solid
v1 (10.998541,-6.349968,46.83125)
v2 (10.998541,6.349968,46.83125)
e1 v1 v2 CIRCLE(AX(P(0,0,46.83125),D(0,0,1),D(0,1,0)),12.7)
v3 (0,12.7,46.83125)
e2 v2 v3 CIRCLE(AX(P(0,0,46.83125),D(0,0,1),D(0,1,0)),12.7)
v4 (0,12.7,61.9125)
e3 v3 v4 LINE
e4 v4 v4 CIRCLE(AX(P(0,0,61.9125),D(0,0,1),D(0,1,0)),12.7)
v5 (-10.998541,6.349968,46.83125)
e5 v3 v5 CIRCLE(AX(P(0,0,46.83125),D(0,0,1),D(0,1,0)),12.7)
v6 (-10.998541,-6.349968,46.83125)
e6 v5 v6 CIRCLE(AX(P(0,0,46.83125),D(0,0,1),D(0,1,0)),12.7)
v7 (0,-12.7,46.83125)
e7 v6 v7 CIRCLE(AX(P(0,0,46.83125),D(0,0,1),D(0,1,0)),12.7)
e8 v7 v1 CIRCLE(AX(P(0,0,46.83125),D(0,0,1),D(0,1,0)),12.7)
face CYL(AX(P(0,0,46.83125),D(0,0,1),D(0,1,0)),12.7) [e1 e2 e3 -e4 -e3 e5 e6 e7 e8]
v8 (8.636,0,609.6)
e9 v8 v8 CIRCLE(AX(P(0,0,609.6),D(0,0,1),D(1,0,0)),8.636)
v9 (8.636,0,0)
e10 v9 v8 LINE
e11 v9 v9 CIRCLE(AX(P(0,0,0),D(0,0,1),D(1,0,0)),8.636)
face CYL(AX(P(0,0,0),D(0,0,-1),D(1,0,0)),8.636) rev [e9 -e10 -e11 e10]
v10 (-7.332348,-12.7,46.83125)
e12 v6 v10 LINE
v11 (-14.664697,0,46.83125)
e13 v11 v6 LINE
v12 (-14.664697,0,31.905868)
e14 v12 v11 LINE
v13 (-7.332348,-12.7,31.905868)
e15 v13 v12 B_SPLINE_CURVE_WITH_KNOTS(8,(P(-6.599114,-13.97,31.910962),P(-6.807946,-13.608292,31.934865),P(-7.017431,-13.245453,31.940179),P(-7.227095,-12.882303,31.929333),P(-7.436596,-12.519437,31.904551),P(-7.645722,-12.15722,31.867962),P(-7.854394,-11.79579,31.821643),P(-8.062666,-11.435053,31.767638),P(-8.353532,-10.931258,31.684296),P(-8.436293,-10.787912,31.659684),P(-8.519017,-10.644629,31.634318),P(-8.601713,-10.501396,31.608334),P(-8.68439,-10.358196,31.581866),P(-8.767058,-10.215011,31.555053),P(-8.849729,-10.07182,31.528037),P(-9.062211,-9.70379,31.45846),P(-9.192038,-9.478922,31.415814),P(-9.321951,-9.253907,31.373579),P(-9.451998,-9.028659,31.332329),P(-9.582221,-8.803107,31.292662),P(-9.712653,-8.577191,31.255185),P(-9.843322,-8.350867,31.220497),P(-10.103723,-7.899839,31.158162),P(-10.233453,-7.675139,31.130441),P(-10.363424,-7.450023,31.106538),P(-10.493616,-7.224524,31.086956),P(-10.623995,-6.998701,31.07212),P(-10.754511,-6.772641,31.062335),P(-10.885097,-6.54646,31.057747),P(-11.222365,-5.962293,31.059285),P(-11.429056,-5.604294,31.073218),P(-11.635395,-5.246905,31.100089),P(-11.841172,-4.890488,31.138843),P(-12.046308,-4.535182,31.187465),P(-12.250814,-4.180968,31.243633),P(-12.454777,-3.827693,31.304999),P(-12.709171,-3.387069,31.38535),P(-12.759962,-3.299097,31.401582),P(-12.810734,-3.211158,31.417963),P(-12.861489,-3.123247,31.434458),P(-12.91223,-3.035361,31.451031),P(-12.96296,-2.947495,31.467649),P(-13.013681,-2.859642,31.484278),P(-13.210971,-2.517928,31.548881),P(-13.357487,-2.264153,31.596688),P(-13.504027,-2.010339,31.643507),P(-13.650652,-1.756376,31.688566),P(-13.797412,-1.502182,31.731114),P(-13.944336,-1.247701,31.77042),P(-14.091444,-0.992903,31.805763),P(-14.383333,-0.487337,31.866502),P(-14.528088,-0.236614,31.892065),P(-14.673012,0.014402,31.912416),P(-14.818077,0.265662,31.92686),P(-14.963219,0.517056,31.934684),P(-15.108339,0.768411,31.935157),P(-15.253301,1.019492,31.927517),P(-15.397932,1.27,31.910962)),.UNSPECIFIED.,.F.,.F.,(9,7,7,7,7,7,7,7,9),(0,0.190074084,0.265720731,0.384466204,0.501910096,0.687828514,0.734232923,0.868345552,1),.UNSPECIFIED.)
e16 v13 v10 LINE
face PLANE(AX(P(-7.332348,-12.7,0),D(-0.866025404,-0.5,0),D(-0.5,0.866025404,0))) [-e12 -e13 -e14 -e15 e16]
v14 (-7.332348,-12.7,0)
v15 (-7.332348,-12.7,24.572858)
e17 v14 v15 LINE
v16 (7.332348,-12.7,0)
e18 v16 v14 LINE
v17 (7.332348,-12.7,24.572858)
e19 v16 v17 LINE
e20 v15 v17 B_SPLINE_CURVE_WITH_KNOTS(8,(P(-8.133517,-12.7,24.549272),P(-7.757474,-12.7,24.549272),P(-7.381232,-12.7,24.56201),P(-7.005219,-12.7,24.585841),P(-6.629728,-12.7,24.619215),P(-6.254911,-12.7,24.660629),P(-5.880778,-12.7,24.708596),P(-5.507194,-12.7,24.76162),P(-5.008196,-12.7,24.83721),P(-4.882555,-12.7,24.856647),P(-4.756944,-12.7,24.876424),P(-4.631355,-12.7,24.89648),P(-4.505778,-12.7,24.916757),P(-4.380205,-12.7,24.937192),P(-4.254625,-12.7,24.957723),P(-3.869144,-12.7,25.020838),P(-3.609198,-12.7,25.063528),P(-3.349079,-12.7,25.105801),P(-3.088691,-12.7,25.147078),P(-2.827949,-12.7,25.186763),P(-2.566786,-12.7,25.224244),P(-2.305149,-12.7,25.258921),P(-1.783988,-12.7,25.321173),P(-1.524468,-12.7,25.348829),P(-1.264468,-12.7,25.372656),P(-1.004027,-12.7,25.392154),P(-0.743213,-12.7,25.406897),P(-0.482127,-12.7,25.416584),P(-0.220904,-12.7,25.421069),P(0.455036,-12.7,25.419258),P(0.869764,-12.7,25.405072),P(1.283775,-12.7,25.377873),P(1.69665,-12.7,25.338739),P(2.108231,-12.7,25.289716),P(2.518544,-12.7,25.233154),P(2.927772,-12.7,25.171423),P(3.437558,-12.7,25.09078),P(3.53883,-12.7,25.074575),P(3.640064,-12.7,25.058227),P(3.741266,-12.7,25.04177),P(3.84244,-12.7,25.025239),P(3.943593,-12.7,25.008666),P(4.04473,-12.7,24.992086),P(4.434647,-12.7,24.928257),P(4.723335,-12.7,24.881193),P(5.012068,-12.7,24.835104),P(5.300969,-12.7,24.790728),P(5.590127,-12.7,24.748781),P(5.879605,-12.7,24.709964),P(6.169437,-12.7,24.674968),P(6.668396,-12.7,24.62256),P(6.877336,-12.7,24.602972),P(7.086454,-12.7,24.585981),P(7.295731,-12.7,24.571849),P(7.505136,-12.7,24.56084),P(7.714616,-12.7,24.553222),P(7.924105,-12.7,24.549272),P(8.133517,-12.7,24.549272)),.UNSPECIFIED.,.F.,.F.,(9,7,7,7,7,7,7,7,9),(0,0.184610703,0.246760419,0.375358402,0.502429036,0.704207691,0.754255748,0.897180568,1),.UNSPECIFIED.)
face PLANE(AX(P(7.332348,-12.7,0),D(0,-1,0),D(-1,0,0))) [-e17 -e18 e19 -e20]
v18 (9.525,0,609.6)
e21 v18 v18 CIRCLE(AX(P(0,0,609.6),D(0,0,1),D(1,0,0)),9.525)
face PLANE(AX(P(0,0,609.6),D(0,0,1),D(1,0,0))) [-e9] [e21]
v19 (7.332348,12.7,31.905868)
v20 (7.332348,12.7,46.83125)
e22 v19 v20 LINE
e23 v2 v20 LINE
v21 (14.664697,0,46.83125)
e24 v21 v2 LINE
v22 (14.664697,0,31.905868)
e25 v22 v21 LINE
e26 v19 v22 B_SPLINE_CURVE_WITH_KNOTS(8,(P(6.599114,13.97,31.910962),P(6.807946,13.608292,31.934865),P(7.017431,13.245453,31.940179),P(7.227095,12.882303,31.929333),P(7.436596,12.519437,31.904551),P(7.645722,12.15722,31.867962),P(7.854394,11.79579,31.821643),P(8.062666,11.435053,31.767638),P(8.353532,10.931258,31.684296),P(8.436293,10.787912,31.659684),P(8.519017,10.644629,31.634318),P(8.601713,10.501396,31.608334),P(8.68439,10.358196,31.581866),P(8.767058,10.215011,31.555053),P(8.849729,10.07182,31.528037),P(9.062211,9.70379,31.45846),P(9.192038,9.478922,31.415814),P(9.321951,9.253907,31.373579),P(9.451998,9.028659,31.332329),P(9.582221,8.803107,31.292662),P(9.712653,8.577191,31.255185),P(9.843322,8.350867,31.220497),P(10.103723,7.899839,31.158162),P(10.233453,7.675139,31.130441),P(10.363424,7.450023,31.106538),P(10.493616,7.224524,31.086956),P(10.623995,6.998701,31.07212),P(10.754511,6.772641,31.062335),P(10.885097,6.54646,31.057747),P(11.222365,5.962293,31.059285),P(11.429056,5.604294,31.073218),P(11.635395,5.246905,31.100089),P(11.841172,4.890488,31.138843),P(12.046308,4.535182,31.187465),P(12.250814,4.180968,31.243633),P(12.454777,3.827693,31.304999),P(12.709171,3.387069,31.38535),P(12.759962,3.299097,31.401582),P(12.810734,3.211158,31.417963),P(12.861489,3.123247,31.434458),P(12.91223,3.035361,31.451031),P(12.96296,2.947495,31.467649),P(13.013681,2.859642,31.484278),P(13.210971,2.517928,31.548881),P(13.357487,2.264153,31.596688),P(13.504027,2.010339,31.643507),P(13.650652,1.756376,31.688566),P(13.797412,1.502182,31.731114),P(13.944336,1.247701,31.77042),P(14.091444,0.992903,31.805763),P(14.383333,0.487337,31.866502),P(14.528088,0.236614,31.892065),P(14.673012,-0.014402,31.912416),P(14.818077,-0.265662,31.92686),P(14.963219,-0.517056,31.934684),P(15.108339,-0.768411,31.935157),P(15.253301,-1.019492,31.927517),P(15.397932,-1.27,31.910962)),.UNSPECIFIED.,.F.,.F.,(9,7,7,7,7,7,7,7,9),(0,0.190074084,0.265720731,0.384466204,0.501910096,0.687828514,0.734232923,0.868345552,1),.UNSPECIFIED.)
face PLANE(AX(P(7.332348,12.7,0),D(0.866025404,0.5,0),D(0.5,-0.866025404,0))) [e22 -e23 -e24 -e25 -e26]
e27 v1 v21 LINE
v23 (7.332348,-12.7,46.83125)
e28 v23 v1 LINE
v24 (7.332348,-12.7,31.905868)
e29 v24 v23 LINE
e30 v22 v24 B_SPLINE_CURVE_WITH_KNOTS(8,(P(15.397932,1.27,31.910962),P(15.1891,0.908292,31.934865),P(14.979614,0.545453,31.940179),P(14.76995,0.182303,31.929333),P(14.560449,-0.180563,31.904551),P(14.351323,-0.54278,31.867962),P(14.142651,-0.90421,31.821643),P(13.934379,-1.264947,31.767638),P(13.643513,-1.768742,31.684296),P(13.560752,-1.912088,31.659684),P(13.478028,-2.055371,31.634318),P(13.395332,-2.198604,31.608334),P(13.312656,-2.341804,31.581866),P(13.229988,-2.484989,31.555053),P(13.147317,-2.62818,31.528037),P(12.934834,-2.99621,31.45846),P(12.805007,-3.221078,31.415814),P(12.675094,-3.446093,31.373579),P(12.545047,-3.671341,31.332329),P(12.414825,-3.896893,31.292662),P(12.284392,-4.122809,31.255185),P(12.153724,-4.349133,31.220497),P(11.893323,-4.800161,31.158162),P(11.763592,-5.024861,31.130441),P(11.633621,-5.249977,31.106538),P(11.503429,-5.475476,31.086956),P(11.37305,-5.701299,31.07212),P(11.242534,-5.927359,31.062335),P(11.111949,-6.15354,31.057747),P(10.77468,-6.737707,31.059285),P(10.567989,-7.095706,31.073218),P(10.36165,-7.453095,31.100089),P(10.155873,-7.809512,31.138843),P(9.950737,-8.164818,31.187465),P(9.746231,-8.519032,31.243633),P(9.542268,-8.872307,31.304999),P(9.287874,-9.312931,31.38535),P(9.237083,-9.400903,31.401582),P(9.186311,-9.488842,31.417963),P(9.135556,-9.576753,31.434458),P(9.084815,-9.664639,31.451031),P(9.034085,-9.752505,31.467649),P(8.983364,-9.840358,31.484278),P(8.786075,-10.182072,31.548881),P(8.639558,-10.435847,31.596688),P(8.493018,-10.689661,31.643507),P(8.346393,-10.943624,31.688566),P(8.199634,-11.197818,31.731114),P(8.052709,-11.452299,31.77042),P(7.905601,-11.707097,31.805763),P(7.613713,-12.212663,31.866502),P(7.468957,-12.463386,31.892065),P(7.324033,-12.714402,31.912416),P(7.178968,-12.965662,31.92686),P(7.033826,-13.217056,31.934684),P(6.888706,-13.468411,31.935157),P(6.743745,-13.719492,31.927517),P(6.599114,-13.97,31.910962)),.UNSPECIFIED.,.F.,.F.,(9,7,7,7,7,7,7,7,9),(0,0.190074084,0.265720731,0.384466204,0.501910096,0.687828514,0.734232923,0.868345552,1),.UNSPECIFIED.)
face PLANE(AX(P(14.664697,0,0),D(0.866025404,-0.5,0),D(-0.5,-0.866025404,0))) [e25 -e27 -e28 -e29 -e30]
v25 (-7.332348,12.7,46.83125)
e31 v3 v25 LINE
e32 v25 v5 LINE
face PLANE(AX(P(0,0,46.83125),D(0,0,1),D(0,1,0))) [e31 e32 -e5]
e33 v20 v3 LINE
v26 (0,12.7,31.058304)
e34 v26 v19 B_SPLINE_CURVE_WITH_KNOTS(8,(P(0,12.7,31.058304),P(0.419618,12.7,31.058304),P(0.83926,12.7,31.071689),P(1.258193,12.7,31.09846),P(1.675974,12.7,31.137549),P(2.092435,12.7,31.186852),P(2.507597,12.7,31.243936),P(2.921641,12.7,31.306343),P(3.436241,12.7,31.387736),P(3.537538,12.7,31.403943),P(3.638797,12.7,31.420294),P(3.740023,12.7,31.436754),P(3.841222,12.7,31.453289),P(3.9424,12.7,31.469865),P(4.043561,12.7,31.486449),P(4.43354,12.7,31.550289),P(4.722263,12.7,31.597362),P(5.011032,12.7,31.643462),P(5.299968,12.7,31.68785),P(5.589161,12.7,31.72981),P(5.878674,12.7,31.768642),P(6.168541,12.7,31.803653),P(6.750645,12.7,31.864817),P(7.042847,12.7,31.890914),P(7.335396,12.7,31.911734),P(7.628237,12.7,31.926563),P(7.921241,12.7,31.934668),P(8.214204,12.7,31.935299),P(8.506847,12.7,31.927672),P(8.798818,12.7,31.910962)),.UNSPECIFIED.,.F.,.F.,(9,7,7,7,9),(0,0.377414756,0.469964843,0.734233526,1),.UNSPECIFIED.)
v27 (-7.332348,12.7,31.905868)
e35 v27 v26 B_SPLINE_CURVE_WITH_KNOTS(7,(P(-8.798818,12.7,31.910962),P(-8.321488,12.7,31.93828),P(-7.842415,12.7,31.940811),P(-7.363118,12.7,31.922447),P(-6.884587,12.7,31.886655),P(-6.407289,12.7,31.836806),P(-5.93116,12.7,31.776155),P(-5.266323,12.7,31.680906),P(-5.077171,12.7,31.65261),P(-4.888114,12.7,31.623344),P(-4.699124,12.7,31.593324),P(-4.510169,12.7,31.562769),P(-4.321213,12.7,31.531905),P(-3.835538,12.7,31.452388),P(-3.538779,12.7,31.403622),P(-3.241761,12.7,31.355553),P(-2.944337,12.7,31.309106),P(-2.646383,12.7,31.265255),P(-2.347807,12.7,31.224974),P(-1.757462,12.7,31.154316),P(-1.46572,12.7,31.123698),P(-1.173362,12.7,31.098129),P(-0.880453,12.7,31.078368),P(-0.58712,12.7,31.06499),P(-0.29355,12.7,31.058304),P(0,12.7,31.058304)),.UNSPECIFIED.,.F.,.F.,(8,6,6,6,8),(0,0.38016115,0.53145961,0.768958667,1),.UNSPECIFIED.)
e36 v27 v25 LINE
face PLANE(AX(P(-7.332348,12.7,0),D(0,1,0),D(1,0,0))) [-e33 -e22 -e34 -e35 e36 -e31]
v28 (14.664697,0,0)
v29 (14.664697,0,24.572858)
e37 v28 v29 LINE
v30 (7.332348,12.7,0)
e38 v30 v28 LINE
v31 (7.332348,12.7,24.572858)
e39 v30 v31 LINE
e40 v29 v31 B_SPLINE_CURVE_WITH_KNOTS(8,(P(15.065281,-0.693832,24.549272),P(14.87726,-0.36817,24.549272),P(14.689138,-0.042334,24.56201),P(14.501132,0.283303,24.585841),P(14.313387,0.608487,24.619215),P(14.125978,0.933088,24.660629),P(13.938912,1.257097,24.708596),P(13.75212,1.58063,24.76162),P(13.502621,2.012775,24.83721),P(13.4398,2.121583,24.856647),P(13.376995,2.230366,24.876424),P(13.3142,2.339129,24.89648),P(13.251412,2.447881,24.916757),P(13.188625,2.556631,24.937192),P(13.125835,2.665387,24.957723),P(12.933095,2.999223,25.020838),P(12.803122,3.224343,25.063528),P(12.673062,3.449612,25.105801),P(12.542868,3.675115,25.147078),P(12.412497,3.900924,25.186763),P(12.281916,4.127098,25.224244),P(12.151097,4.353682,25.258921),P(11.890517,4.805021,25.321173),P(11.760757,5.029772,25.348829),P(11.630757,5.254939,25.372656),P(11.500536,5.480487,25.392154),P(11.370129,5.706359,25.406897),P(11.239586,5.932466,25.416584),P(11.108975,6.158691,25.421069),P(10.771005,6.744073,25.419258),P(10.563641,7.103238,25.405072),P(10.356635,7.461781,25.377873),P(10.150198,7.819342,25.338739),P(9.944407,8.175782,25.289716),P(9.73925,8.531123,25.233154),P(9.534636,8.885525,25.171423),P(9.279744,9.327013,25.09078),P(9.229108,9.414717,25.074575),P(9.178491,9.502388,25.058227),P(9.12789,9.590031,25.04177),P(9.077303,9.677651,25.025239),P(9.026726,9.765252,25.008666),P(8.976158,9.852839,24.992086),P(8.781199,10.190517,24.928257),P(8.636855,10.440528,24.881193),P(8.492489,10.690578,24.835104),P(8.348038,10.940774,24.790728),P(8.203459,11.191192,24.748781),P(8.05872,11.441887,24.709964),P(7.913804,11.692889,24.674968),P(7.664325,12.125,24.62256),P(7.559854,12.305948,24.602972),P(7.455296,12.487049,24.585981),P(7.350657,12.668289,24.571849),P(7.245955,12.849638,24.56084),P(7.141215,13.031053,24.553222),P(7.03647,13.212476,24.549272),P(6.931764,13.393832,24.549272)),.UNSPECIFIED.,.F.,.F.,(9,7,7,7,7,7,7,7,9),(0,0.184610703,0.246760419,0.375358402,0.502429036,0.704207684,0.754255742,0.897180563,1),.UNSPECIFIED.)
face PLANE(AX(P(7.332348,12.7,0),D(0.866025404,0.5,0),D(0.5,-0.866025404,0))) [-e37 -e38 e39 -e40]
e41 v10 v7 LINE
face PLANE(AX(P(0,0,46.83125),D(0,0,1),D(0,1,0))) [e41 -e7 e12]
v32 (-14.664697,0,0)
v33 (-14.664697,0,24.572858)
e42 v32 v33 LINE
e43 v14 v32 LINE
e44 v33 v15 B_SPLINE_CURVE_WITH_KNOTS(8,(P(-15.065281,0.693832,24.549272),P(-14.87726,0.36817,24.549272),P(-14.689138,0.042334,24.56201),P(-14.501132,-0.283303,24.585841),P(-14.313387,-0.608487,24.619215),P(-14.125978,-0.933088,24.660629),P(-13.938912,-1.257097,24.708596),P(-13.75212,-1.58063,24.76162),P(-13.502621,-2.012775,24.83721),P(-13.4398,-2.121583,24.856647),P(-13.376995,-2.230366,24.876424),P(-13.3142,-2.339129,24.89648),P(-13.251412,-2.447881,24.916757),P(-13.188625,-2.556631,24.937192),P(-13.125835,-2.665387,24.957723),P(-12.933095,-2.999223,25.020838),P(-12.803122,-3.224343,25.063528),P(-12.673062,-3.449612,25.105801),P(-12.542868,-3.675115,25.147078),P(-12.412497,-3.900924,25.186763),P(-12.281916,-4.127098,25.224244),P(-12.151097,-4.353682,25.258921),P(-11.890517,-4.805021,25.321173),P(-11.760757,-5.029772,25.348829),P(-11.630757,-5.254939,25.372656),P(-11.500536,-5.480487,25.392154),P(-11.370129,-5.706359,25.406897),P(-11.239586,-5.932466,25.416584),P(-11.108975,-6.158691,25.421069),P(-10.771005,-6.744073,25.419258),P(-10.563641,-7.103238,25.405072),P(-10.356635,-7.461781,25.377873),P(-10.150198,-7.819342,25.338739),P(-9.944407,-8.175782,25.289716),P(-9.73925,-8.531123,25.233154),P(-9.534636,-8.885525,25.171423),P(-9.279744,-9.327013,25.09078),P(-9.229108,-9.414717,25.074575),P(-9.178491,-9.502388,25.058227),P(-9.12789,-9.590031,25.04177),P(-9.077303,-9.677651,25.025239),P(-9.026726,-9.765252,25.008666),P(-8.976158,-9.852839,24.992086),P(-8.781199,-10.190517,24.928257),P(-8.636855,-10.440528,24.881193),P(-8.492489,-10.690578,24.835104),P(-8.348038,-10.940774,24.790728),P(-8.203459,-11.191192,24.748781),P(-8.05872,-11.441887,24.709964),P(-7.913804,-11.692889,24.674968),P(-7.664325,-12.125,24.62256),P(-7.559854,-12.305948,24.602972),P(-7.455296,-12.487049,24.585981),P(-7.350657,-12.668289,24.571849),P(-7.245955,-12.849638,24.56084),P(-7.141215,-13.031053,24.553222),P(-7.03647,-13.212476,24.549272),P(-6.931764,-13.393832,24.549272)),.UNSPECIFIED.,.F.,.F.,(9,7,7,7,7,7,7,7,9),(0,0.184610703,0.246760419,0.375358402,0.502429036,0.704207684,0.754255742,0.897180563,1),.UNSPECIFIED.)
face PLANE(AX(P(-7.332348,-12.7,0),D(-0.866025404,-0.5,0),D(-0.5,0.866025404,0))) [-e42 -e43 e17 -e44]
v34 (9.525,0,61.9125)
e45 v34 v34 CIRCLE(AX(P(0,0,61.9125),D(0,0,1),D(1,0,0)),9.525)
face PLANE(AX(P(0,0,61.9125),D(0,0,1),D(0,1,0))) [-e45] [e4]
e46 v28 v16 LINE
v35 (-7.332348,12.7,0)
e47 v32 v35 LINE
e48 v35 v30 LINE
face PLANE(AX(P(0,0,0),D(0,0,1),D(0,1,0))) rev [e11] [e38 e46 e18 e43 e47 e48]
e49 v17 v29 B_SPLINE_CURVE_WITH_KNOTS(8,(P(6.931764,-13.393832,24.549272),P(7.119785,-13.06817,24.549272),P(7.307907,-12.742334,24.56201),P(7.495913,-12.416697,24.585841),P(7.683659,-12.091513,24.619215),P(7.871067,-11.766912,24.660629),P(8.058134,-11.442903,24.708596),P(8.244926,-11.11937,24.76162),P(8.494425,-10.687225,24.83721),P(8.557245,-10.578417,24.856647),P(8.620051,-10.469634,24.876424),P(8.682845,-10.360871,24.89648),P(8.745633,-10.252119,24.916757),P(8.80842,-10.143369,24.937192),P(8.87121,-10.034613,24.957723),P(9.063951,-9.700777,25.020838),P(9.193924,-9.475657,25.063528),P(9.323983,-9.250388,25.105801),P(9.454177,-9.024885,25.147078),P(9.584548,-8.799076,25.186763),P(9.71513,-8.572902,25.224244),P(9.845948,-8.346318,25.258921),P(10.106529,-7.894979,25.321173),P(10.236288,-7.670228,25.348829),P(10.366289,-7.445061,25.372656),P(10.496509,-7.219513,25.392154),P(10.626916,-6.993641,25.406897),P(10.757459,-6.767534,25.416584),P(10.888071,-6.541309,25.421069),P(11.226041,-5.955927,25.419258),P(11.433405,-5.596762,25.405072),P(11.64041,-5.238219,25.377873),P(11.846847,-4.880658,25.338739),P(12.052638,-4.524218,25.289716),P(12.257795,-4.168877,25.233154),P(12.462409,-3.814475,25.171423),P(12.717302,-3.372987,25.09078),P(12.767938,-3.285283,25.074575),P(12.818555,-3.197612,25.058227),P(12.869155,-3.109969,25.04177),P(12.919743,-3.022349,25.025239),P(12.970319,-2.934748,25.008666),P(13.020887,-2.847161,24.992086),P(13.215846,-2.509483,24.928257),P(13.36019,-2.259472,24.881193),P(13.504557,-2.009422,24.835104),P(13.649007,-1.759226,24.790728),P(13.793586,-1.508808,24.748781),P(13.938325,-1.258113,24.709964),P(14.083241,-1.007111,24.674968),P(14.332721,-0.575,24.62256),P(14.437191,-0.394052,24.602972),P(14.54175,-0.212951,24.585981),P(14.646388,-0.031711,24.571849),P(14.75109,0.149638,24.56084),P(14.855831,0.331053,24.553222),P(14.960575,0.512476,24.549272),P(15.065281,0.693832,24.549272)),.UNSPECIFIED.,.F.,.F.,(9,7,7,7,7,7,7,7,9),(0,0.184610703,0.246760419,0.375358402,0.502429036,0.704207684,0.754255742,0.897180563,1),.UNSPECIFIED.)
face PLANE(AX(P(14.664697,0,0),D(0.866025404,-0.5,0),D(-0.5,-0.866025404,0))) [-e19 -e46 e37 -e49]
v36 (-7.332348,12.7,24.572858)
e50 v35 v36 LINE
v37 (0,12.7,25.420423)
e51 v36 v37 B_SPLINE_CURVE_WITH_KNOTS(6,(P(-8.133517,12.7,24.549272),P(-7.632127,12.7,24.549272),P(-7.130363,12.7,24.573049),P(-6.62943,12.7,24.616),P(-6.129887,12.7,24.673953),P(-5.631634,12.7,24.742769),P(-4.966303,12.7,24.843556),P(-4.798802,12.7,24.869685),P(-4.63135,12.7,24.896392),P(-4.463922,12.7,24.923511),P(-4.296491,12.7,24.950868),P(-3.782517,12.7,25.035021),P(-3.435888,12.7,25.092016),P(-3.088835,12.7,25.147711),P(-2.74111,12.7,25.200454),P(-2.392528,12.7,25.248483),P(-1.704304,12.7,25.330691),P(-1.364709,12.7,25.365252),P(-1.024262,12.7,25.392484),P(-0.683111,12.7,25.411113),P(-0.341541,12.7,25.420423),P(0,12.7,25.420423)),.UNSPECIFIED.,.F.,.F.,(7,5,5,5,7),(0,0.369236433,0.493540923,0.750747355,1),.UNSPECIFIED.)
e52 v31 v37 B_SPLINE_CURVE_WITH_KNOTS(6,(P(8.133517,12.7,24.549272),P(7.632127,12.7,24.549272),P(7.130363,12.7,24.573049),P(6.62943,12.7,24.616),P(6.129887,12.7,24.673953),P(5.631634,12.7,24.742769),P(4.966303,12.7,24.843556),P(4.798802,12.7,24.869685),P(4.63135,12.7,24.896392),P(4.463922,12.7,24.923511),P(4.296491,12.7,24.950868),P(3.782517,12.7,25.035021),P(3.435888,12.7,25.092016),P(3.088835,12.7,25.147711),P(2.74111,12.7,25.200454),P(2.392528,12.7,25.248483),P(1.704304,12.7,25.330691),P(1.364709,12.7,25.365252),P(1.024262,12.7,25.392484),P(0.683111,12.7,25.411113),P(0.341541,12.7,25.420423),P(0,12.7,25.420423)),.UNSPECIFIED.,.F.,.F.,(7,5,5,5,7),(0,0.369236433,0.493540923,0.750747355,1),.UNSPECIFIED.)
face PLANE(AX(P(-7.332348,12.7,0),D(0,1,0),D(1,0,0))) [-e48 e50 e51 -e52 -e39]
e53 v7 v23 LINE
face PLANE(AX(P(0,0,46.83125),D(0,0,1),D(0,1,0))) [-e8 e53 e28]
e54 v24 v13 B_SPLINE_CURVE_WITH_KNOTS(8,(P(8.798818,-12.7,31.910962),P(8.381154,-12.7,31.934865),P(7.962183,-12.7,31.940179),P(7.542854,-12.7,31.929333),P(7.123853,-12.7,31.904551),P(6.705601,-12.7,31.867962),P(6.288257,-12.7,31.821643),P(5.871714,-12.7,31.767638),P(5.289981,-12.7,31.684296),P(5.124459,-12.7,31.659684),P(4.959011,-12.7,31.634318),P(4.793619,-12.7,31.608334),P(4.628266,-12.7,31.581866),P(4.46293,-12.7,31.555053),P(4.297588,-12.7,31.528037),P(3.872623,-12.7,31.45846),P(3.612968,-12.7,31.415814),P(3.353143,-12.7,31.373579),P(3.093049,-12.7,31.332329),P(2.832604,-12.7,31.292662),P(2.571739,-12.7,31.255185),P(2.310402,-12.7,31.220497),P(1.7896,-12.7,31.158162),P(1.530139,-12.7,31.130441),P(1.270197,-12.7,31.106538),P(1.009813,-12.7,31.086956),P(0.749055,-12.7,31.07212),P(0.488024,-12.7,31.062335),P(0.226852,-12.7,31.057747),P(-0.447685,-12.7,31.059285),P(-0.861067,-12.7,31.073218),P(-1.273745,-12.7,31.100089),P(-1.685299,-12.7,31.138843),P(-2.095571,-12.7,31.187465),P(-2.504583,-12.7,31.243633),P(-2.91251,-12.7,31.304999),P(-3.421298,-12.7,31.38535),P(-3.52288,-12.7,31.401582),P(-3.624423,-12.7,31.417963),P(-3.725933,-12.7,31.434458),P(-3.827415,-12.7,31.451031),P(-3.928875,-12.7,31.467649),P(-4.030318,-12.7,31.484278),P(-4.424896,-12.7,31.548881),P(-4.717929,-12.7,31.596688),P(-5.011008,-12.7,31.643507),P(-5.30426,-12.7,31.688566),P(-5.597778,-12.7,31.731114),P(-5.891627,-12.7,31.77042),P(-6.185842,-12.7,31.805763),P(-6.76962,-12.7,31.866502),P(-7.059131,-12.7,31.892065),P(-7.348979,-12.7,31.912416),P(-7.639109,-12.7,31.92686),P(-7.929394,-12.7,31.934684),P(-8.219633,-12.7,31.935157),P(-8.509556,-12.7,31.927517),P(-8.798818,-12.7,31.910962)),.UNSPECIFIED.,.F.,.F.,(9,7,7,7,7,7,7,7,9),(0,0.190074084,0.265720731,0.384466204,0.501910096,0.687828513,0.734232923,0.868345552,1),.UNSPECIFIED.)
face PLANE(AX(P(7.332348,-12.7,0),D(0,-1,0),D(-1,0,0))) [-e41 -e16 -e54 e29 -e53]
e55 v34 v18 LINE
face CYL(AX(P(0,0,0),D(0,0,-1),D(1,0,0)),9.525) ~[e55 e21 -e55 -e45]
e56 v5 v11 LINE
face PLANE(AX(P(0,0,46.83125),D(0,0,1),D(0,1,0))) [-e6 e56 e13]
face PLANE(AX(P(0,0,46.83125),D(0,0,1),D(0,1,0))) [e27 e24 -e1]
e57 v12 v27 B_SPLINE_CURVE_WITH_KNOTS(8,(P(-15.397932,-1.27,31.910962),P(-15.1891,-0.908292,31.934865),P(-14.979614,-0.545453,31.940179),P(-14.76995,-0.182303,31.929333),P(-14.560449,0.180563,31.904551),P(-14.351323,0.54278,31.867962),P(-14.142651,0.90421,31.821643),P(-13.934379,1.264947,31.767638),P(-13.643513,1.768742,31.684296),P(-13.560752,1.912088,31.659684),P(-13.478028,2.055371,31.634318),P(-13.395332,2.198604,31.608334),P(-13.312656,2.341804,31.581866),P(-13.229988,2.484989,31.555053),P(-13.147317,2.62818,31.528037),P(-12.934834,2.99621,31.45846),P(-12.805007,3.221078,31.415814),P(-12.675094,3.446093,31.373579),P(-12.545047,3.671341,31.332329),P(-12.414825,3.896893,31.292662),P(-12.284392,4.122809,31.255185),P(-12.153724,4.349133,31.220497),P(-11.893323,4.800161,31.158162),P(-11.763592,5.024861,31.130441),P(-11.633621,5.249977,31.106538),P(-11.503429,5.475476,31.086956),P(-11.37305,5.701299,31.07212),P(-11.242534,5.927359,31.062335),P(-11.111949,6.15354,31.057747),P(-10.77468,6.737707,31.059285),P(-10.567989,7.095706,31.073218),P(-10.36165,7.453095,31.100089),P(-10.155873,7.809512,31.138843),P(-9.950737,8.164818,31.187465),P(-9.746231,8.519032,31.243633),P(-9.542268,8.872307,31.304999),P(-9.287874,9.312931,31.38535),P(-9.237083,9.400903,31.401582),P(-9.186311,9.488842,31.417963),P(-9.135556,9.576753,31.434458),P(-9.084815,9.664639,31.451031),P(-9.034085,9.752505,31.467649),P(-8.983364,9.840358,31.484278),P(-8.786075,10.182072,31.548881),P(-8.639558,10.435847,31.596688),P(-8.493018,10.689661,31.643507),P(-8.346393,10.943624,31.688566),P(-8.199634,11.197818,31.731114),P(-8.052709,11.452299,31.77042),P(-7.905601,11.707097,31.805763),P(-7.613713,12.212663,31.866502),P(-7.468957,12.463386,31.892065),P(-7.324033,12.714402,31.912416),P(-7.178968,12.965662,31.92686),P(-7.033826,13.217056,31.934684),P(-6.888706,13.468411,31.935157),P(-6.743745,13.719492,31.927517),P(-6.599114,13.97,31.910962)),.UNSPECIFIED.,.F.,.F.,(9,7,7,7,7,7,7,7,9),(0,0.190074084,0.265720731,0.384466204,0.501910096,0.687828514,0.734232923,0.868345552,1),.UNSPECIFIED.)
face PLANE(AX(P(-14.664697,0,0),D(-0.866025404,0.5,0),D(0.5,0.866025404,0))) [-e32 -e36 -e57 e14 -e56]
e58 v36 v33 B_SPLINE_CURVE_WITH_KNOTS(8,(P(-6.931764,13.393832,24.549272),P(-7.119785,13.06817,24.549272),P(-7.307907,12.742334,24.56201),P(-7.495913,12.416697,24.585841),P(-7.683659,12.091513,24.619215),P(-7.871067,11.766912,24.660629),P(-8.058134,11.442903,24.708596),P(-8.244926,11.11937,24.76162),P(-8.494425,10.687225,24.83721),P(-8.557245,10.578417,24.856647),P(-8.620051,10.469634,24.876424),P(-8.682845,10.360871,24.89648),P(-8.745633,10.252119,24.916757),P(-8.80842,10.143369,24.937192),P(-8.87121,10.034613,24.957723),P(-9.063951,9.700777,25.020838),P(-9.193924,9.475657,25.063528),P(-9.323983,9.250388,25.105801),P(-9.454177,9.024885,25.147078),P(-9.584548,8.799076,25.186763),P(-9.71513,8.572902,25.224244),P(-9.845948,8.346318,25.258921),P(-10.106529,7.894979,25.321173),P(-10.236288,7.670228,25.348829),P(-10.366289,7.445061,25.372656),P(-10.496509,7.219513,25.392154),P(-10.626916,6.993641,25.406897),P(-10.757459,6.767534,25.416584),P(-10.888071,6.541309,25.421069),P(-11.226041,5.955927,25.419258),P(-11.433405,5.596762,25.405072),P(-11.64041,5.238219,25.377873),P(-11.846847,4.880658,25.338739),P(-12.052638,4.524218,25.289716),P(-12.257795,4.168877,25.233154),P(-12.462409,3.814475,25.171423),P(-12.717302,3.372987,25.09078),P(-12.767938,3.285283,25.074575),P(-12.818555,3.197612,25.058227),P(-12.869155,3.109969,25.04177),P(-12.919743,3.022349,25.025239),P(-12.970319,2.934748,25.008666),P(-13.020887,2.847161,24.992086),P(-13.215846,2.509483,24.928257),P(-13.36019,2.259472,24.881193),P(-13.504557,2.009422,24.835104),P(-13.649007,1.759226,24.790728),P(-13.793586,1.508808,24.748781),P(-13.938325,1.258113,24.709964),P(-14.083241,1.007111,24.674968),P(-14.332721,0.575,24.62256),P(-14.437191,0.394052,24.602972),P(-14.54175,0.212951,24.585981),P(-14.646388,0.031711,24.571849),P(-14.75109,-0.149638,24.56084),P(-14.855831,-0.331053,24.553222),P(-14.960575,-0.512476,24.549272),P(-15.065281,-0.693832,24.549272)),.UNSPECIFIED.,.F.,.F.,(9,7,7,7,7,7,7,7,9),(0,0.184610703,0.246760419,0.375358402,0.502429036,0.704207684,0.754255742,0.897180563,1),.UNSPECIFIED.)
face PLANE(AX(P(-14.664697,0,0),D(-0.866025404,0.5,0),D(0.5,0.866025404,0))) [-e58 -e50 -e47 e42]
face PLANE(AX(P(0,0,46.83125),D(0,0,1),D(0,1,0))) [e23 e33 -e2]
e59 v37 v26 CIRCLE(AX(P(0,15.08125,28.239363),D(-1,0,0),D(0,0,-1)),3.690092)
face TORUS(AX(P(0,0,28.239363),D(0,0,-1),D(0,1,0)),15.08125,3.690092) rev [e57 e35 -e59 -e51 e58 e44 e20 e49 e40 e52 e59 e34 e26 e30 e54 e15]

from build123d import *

# Parameters (mm, degrees)
SKETCH1_R           = 9.525
SKETCH1_R_2         = 8.636
BOSS_EXTRUDE1_DEPTH = 609.6
SKETCH3_R           = 20.246819027
CUT_EXTRUDE1_DEPTH  = 101.6


with BuildPart() as part:
    # Sketch1 → Boss-Extrude1 (new body)
    with BuildSketch(Plane.XY):
        Circle(SKETCH1_R)
        Circle(SKETCH1_R_2, mode=Mode.SUBTRACT)
    extrude(amount=BOSS_EXTRUDE1_DEPTH)

    # Sketch2 → Revolve1 (revolve)
    with BuildSketch(Plane(origin=(0, 0, 0), x_dir=(0, 0, -1), z_dir=(1, 0, 0))):
        with BuildLine():
            Line((-61.9125, 9.525), (0, 9.525))
            Line((0, 9.525), (0, 17.78))
            Line((0, 17.78), (-25.722714052, 17.78))
            ThreePointArc((-25.722714052, 17.78), (-24.855324241, 16.552662429), (-24.549271858, 15.08125))
            ThreePointArc((-24.549271858, 15.08125), (-29.710775793, 11.697210877), (-30.756012676, 17.78))
            Line((-30.756012676, 17.78), (-46.83125, 17.78))
            Line((-46.83125, 17.78), (-46.83125, 12.7))
            Line((-46.83125, 12.7), (-61.9125, 12.7))
            Line((-61.9125, 12.7), (-61.9125, 9.525))
        make_face()
    revolve(axis=Axis((0, 0, 0), (0, 0, 1)))

    # Sketch3 → Cut-Extrude1 (cut)
    with BuildSketch(Plane(origin=(0, 0, 0), x_dir=(-1, 0, 0), z_dir=(0, 0, -1))):
        Circle(SKETCH3_R)
        Polygon((14.664696837, 0), (7.332348419, 12.7), (-7.332348419, 12.7), (-14.664696837, 0), (-7.332348419, -12.7), (7.332348419, -12.7), align=None, mode=Mode.SUBTRACT)
    extrude(amount=-CUT_EXTRUDE1_DEPTH, mode=Mode.SUBTRACT)


solid = part.part
